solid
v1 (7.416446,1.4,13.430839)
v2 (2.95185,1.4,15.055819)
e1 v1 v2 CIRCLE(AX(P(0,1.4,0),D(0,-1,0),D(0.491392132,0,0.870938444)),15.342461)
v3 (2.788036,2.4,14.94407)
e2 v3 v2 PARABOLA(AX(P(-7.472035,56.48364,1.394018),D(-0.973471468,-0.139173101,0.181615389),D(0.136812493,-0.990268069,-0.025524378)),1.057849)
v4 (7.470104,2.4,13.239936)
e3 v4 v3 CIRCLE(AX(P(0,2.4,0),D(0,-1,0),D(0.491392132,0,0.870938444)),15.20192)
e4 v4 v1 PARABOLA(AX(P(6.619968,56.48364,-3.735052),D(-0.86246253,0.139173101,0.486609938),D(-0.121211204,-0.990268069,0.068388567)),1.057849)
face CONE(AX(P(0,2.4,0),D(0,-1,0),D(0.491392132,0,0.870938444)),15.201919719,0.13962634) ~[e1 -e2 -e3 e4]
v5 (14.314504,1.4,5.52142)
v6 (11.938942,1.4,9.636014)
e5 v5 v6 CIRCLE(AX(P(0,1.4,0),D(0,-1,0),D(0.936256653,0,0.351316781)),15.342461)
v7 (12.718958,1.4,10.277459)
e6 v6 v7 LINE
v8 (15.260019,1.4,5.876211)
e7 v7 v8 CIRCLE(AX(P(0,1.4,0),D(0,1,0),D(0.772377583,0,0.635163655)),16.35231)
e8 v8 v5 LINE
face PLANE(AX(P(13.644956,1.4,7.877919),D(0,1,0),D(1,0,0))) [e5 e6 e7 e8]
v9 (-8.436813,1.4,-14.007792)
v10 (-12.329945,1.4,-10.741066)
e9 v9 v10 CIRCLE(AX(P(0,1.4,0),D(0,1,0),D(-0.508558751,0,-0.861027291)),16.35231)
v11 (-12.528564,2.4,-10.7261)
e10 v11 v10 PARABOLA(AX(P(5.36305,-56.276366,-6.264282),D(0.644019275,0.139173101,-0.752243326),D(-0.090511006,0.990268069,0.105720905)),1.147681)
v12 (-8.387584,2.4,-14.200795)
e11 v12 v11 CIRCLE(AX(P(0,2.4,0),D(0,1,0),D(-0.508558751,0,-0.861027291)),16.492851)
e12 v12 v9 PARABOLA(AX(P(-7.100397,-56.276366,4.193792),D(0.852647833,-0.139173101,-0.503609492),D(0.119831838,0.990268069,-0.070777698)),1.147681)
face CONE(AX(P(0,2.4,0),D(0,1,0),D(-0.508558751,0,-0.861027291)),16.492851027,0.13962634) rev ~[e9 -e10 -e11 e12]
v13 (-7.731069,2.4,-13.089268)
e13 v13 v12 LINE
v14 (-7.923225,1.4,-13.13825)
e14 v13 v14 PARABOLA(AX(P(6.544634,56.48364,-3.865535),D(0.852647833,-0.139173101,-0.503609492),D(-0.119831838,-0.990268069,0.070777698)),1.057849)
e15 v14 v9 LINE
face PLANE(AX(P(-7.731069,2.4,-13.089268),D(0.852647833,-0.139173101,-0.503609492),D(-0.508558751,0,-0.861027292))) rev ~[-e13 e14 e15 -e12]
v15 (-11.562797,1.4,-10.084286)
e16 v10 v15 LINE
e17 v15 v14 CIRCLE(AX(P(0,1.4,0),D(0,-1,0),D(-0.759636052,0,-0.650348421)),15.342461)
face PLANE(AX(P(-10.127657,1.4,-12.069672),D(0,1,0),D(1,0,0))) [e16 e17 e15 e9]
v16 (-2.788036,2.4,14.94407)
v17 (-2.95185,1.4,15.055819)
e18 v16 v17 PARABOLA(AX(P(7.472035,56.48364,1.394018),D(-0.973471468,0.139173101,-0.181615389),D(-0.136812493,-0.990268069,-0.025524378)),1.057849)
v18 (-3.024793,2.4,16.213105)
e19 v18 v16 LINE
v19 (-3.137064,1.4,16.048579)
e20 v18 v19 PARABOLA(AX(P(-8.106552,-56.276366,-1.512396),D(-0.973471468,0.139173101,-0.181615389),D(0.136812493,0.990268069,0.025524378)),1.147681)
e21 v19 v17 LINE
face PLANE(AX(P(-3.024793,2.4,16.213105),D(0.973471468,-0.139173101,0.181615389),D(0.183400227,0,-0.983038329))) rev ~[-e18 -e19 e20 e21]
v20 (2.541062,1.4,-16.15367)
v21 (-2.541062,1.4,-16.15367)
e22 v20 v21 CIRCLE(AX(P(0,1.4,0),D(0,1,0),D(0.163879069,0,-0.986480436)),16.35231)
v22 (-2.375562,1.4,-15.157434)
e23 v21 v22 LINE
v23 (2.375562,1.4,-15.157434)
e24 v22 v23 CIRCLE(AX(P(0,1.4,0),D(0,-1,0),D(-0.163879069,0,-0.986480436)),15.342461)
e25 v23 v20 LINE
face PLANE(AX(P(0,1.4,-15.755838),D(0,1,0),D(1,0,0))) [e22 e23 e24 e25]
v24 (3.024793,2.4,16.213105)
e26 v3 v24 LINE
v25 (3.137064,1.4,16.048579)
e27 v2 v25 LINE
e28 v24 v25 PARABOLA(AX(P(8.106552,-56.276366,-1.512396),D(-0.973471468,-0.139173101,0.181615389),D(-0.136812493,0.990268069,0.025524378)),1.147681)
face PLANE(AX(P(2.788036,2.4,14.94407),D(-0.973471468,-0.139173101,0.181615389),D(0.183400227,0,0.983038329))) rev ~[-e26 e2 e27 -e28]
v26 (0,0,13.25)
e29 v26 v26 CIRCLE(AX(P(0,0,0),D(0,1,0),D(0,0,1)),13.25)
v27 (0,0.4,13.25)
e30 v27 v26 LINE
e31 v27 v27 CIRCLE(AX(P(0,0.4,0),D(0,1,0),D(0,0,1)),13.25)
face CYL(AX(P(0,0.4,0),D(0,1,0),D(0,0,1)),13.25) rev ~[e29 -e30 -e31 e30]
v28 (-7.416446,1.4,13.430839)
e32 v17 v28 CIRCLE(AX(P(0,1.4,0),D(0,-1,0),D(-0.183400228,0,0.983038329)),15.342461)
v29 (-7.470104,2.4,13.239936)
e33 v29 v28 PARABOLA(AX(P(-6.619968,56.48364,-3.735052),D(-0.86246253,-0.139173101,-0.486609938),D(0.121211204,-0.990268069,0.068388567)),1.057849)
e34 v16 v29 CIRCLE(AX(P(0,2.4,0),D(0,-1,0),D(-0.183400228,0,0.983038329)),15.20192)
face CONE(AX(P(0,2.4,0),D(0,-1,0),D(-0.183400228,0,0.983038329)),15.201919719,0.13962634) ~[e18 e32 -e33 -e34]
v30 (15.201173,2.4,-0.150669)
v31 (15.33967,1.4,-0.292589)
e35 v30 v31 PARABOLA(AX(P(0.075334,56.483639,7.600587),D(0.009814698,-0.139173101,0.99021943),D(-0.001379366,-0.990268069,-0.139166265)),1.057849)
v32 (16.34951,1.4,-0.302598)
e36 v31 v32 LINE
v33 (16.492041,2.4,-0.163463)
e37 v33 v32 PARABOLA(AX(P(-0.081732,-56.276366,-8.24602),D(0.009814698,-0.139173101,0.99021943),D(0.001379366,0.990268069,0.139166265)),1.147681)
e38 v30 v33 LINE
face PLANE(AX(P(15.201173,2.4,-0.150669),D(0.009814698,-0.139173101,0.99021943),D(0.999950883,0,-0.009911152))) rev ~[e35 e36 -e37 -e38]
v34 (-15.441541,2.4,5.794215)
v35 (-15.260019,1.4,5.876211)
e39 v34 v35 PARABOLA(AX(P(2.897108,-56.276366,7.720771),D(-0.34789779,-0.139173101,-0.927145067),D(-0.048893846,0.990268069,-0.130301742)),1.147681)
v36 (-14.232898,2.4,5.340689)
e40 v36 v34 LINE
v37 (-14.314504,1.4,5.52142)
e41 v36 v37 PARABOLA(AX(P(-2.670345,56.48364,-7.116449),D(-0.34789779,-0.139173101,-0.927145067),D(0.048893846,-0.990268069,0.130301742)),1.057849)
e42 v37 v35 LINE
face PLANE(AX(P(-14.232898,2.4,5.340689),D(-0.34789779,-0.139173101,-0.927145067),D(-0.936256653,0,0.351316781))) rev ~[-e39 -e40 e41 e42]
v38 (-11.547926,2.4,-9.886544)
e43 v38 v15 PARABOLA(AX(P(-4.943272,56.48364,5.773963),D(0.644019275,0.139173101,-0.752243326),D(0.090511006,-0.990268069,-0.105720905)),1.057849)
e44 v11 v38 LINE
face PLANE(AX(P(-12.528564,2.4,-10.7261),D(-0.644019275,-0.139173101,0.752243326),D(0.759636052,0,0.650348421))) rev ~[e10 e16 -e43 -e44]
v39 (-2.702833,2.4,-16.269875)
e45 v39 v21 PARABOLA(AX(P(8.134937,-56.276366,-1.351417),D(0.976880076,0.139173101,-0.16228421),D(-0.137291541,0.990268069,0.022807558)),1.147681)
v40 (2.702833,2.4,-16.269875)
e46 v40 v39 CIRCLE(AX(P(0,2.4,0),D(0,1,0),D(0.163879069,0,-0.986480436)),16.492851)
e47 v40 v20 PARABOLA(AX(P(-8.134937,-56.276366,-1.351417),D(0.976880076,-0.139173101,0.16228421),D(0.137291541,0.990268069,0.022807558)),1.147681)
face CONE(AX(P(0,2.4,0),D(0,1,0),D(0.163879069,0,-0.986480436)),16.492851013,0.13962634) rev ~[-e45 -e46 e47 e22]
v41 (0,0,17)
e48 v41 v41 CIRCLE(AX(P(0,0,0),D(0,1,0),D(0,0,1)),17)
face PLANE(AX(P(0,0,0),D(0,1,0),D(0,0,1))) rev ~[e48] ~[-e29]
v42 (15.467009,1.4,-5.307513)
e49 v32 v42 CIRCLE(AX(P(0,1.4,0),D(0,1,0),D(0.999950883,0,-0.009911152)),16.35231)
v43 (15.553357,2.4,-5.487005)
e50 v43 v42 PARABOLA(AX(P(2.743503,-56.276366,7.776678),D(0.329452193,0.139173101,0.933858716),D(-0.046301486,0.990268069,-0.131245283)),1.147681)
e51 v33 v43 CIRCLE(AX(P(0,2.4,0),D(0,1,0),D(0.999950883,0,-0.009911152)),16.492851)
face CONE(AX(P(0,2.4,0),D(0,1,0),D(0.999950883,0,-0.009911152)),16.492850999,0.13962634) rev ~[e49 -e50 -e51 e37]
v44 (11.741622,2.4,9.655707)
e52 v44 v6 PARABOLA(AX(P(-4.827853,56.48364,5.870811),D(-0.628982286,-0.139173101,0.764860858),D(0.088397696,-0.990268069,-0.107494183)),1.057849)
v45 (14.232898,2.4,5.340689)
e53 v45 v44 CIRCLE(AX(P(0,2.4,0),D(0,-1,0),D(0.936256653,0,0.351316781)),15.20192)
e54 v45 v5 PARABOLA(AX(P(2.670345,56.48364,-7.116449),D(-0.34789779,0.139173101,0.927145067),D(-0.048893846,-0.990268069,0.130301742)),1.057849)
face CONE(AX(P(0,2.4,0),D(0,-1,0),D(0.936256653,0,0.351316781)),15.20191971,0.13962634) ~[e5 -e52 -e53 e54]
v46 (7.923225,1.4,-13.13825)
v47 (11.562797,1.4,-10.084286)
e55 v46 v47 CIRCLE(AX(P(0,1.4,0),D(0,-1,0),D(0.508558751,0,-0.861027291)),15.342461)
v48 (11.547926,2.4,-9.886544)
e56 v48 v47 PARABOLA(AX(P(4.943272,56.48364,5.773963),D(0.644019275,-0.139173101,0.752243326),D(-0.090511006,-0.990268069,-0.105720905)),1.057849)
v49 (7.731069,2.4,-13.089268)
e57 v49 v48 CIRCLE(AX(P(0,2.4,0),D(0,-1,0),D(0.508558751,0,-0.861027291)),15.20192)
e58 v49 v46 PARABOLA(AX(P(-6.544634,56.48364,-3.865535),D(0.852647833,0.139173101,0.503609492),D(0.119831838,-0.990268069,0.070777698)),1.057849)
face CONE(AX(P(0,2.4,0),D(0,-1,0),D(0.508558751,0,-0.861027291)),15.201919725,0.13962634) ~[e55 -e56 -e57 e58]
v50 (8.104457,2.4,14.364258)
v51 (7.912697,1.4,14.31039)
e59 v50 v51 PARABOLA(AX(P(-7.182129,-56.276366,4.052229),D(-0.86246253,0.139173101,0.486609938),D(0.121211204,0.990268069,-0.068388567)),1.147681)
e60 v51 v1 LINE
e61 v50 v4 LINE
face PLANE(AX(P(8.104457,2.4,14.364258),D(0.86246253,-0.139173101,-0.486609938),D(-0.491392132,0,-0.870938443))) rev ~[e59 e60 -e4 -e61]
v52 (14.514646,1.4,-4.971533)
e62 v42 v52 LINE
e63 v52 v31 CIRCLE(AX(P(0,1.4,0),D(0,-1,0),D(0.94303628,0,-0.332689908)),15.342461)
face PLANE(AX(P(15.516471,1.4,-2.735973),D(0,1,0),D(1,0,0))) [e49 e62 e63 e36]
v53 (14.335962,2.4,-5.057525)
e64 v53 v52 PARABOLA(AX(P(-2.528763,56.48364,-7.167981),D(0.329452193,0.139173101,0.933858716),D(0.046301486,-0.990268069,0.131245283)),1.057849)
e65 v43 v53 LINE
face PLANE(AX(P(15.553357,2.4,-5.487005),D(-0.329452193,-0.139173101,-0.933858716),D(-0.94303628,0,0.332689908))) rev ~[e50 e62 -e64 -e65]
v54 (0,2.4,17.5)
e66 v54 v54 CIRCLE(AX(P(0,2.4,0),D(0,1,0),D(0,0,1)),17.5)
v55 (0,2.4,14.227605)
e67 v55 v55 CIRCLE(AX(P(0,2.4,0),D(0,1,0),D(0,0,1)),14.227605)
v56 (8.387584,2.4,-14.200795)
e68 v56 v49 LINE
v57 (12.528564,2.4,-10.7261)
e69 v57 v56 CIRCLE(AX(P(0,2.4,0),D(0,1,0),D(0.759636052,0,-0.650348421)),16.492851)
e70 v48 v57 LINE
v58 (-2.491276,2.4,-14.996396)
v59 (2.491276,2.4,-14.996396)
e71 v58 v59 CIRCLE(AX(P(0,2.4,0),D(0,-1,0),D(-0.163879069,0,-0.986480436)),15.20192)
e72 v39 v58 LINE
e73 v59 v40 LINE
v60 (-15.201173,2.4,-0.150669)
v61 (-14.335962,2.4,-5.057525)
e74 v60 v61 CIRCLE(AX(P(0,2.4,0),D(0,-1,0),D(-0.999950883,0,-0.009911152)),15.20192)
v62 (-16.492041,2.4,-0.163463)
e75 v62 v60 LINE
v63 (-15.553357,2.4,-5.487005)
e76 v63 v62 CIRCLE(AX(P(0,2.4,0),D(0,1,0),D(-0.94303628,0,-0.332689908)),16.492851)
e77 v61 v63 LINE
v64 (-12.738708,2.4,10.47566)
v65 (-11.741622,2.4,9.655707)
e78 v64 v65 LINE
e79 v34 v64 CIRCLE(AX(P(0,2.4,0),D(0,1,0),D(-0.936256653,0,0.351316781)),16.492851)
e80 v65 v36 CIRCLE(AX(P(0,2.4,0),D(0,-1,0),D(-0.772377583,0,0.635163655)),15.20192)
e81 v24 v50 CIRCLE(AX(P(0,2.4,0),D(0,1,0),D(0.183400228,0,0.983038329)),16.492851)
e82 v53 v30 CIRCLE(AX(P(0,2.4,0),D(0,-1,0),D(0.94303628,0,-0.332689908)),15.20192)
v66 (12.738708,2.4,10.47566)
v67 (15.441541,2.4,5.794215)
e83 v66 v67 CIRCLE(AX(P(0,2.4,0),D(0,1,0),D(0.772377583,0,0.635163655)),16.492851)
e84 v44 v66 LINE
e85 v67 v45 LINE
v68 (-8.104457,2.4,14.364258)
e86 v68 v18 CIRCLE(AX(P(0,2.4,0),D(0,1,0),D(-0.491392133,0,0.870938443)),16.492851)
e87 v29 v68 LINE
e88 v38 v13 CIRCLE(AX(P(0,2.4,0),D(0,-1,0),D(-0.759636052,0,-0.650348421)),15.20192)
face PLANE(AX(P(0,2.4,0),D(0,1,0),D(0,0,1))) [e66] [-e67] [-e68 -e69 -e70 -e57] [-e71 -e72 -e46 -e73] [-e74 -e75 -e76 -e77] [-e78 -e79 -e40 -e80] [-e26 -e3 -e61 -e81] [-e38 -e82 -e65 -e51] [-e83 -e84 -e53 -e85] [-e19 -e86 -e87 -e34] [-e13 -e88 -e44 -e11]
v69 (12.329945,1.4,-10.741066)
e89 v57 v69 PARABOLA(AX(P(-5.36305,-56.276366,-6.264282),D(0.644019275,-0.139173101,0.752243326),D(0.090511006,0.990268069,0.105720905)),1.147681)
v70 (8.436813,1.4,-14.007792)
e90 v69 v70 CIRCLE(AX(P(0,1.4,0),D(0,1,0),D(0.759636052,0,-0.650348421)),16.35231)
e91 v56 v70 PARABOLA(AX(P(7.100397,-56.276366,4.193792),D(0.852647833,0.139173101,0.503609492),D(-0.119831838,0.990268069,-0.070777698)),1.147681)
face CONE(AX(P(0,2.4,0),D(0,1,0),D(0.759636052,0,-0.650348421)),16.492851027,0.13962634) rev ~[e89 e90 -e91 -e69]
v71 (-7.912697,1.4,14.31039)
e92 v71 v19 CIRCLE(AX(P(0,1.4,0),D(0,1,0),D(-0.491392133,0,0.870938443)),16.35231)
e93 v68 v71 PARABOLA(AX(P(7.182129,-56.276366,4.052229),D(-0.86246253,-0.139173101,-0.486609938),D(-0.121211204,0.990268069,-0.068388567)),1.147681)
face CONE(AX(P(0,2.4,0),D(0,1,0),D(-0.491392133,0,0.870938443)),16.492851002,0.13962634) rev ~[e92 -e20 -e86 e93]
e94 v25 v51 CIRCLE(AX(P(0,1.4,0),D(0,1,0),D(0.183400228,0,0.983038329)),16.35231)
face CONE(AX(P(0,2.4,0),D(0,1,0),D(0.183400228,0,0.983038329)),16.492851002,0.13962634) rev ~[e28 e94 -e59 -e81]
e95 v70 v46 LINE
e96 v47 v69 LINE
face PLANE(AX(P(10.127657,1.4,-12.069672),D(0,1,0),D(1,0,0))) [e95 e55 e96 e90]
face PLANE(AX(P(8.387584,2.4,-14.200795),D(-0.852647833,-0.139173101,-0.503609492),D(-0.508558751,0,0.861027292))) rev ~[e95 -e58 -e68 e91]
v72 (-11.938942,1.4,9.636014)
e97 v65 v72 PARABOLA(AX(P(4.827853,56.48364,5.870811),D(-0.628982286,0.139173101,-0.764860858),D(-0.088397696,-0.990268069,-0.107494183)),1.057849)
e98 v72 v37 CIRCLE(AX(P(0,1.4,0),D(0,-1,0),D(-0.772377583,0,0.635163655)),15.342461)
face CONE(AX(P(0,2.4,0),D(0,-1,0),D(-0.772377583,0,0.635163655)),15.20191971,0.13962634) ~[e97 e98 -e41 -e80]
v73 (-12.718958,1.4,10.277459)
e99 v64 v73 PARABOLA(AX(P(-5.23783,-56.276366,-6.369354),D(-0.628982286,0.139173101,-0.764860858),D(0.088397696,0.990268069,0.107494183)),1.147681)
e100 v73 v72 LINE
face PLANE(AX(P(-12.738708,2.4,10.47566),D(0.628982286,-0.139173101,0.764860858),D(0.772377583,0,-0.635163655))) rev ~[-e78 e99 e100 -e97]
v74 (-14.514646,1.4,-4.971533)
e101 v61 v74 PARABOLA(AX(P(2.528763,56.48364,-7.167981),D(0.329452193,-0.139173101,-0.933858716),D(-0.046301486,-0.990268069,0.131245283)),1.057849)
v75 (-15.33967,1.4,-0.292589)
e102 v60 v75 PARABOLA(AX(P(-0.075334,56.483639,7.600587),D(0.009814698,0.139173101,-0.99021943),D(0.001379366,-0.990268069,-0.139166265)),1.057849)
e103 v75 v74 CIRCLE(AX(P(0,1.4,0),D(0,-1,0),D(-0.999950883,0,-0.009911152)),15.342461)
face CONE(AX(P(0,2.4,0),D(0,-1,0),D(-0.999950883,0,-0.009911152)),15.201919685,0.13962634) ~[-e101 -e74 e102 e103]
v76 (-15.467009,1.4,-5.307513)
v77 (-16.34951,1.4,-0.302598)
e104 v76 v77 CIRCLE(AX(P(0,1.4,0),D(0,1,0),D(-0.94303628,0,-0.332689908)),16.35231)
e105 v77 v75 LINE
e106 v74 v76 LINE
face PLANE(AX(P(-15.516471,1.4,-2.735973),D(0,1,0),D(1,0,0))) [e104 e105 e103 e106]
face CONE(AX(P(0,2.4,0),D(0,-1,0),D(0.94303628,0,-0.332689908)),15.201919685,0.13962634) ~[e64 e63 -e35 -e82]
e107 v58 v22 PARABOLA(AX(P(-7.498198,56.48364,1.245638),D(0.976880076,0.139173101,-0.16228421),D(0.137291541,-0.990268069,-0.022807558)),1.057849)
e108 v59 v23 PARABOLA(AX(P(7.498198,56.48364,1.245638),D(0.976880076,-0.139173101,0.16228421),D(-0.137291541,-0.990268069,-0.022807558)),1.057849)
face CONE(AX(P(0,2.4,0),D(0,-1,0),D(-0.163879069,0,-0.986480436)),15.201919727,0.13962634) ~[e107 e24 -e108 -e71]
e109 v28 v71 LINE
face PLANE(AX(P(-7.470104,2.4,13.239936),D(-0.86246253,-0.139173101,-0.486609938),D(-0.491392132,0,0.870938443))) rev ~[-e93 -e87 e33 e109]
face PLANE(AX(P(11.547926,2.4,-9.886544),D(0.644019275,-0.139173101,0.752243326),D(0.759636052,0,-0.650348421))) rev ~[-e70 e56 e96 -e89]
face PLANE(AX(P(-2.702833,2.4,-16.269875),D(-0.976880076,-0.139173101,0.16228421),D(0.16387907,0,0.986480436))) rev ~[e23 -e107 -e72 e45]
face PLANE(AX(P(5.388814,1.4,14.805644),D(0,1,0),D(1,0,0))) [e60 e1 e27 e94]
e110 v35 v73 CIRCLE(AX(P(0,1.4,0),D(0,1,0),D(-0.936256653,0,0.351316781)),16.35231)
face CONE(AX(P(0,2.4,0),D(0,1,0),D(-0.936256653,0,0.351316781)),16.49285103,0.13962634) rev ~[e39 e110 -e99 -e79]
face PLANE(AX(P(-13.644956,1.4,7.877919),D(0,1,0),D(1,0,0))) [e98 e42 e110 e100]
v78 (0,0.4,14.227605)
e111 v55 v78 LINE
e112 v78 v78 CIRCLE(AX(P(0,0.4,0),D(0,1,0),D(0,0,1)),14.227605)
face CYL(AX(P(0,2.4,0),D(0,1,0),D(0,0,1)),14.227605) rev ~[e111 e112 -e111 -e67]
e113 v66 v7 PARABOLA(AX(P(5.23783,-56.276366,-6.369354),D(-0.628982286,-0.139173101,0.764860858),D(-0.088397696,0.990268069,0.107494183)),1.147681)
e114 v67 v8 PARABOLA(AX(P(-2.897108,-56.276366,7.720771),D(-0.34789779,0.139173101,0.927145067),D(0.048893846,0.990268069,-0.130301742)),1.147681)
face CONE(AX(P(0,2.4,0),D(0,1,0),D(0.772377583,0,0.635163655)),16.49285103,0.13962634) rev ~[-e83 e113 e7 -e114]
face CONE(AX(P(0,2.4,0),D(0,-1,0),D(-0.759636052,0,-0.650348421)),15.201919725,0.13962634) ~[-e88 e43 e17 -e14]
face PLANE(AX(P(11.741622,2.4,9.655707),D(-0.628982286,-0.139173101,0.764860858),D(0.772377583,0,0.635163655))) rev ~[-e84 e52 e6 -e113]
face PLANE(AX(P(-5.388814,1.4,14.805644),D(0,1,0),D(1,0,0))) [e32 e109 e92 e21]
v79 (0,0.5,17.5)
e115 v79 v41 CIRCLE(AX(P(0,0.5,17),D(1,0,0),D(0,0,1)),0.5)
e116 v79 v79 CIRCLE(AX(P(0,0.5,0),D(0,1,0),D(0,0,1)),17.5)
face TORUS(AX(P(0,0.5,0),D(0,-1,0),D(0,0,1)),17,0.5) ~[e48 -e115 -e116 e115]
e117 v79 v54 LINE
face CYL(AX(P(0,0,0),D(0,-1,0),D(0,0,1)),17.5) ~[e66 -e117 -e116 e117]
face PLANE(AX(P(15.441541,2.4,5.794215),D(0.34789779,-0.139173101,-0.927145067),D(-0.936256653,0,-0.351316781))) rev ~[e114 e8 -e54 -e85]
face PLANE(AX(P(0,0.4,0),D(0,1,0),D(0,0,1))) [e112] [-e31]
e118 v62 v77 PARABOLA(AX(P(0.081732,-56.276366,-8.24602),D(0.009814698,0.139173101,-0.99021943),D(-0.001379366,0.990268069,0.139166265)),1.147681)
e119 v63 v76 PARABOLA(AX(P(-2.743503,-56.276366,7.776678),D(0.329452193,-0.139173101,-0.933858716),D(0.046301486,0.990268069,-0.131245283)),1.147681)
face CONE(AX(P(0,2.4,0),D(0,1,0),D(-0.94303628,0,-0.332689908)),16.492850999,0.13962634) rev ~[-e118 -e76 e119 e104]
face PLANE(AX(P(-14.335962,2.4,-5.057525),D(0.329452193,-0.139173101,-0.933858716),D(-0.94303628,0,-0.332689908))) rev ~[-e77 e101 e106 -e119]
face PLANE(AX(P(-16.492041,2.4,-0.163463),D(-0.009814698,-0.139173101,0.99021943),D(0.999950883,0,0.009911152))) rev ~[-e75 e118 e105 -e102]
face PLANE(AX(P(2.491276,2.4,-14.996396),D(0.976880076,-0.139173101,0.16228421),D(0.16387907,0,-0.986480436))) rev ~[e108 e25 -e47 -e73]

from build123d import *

# Parameters (mm, degrees)
SKETCH_1_R                    = 17.5
SKETCH_1_R_2                  = 13
EXTRUDE_1_DEPTH               = 2.4
SKETCH_2_R                    = 14.227604949
CUT_EXTRUDE_1_DEPTH           = 2
SKETCH_3_R                    = 13.25
CUT_EXTRUDE_2_DEPTH           = 2
CUT_EXTRUDE_3_DEPTH           = 1
CUT_EXTRUDE_3_DRAFT           = -8
CUT_EXTRUDE_3_PROFILE_2_DEPTH = 1
CUT_EXTRUDE_3_PROFILE_2_DRAFT = -8
CUT_EXTRUDE_3_PROFILE_3_DEPTH = 1
CUT_EXTRUDE_3_PROFILE_3_DRAFT = -8
CUT_EXTRUDE_3_PROFILE_4_DEPTH = 1
CUT_EXTRUDE_3_PROFILE_4_DRAFT = -8
CUT_EXTRUDE_3_PROFILE_5_DEPTH = 1
CUT_EXTRUDE_3_PROFILE_5_DRAFT = -8
CUT_EXTRUDE_3_PROFILE_6_DEPTH = 1
CUT_EXTRUDE_3_PROFILE_6_DRAFT = -8
CUT_EXTRUDE_3_PROFILE_7_DEPTH = 1
CUT_EXTRUDE_3_PROFILE_7_DRAFT = -8
CUT_EXTRUDE_3_PROFILE_8_DEPTH = 1
CUT_EXTRUDE_3_PROFILE_8_DRAFT = -8
CUT_EXTRUDE_3_PROFILE_9_DEPTH = 1
CUT_EXTRUDE_3_PROFILE_9_DRAFT = -8
FILLET_1_R                    = 0.5


with BuildPart() as part:
    # 草图1 → 凸台-拉伸1 (new body)
    with BuildSketch(Plane(origin=(0, 0, 0), x_dir=(1, 0, 0), z_dir=(0, 1, 0))):
        with Locations(Location((0, 0, 0), (0, 0, 270))):
            Circle(SKETCH_1_R)
        with Locations(Location((0, 0, 0), (0, 0, 270))):
            Circle(SKETCH_1_R_2, mode=Mode.SUBTRACT)
    extrude(amount=EXTRUDE_1_DEPTH)

    # 草图2 → 切除-拉伸1 (cut)
    with BuildSketch(Plane(origin=(0, 2.4, 0), x_dir=(1, 0, 0), z_dir=(0, 1, 0))):
        with Locations(Location((0, 0, 0), (0, 0, 270))):
            Circle(SKETCH_2_R)
    extrude(amount=-CUT_EXTRUDE_1_DEPTH, mode=Mode.SUBTRACT)

    # 草图3 → 切除-拉伸2 (cut)
    with BuildSketch(Plane(origin=(0, 0.4, 0), x_dir=(1, 0, 0), z_dir=(0, 1, 0))):
        with Locations(Location((0, 0, 0), (0, 0, 270))):
            Circle(SKETCH_3_R)
    extrude(amount=-CUT_EXTRUDE_2_DEPTH, mode=Mode.SUBTRACT)


with BuildPart() as cut_extrude_3_tool:
    # 草图4 → 切除-拉伸3 (with draft: the straight prism first)
    with BuildSketch(Plane(origin=(0, 2.4, 0), x_dir=(1, 0, 0), z_dir=(0, 1, 0))):
        with BuildLine():
            ThreePointArc((-2.491276454, 14.996396377), (0, 15.201919703), (2.491276454, 14.996396377))
            Line((2.491276454, 14.996396377), (2.702833077, 16.269874865))
            ThreePointArc((2.702833077, 16.269874865), (0, 16.49285102), (-2.702833077, 16.269874865))
            Line((-2.702833077, 16.269874865), (-2.491276454, 14.996396377))
        make_face()
    extrude(amount=-CUT_EXTRUDE_3_DEPTH)
    # 切除-拉伸3: the draft: its side faces are tilted about the plane it starts from
    cut_extrude_3_sides = [cut_extrude_3_tool.faces().sort_by_distance(p)[0] for p in [
        (0, 1.9, -16.49285102),
        (-2.597054766, 1.9, -15.633135621),
        (0, 1.9, -15.201919703),
        (2.597054766, 1.9, -15.633135621),
    ]]
    draft(cut_extrude_3_sides, Plane(origin=(0, 2.4, 0), x_dir=(1, 0, 0), z_dir=(0, 1, 0)), CUT_EXTRUDE_3_DRAFT)


with BuildPart() as part_1:
    add(part.part)

    # 切除-拉伸3: cut by cut_extrude_3_tool
    add(cut_extrude_3_tool.part, mode=Mode.SUBTRACT)


with BuildPart() as cut_extrude_3_profile_2_tool:
    # 草图4 → 切除-拉伸3 profile 2 (with draft: the straight prism first)
    with BuildSketch(Plane(origin=(0, 2.4, 0), x_dir=(1, 0, 0), z_dir=(0, 1, 0))):
        with BuildLine():
            ThreePointArc((7.731069297, 13.089267749), (9.771605629, 11.645346113), (11.547926265, 9.886544474))
            Line((11.547926265, 9.886544474), (12.528564234, 10.726099617))
            ThreePointArc((12.528564234, 10.726099617), (10.601400284, 12.634256875), (8.387583715, 14.200794844))
            Line((8.387583715, 14.200794844), (7.731069297, 13.089267749))
        make_face()
    extrude(amount=-CUT_EXTRUDE_3_PROFILE_2_DEPTH)
    # 切除-拉伸3 profile 2: the draft: its side faces are tilted about the plane it starts from
    cut_extrude_3_profile_2_sides = [cut_extrude_3_profile_2_tool.faces().sort_by_distance(p)[0] for p in [
        (8.059326506, 1.9, -13.645031296),
        (9.771605629, 1.9, -11.645346113),
        (12.03824525, 1.9, -10.306322046),
        (10.601400284, 1.9, -12.634256875),
    ]]
    draft(cut_extrude_3_profile_2_sides, Plane(origin=(0, 2.4, 0), x_dir=(1, 0, 0), z_dir=(0, 1, 0)), CUT_EXTRUDE_3_PROFILE_2_DRAFT)


with BuildPart() as part_2:
    add(part_1.part)

    # 切除-拉伸3 profile 2: cut by cut_extrude_3_profile_2_tool
    add(cut_extrude_3_profile_2_tool.part, mode=Mode.SUBTRACT)


with BuildPart() as cut_extrude_3_profile_3_tool:
    # 草图4 → 切除-拉伸3 profile 3 (with draft: the straight prism first)
    with BuildSketch(Plane(origin=(0, 2.4, 0), x_dir=(1, 0, 0), z_dir=(0, 1, 0))):
        with BuildLine():
            ThreePointArc((14.335961803, 5.05752527), (14.970968385, 2.639785654), (15.201173036, 0.150668535))
            Line((15.201173036, 0.150668535), (16.492040946, 0.163463152))
            ThreePointArc((16.492040946, 0.163463152), (16.242287554, 2.863953524), (15.553356869, 5.487005091))
            Line((15.553356869, 5.487005091), (14.335961803, 5.05752527))
        make_face()
    extrude(amount=-CUT_EXTRUDE_3_PROFILE_3_DEPTH)
    # 切除-拉伸3 profile 3: the draft: its side faces are tilted about the plane it starts from
    cut_extrude_3_profile_3_sides = [cut_extrude_3_profile_3_tool.faces().sort_by_distance(p)[0] for p in [
        (14.970968385, 1.9, -2.639785654),
        (15.846606991, 1.9, -0.157065843),
        (16.242287554, 1.9, -2.863953524),
        (14.944659336, 1.9, -5.27226518),
    ]]
    draft(cut_extrude_3_profile_3_sides, Plane(origin=(0, 2.4, 0), x_dir=(1, 0, 0), z_dir=(0, 1, 0)), CUT_EXTRUDE_3_PROFILE_3_DRAFT)


with BuildPart() as part_3:
    add(part_2.part)

    # 切除-拉伸3 profile 3: cut by cut_extrude_3_profile_3_tool
    add(cut_extrude_3_profile_3_tool.part, mode=Mode.SUBTRACT)


with BuildPart() as cut_extrude_3_profile_4_tool:
    # 草图4 → 切除-拉伸3 profile 4 (with draft: the straight prism first)
    with BuildSketch(Plane(origin=(0, 2.4, 0), x_dir=(1, 0, 0), z_dir=(0, 1, 0))):
        with BuildLine():
            ThreePointArc((14.232898455, -5.340689491), (13.165248649, -7.600959852), (11.741622, -9.655706886))
            Line((11.741622, -9.655706886), (12.738708411, -10.47565954))
            ThreePointArc((12.738708411, -10.47565954), (14.283227964, -8.24642551), (15.441541488, -5.794215325))
            Line((15.441541488, -5.794215325), (14.232898455, -5.340689491))
        make_face()
    extrude(amount=-CUT_EXTRUDE_3_PROFILE_4_DEPTH)
    # 切除-拉伸3 profile 4: the draft: its side faces are tilted about the plane it starts from
    cut_extrude_3_profile_4_sides = [cut_extrude_3_profile_4_tool.faces().sort_by_distance(p)[0] for p in [
        (12.240165206, 1.9, 10.065683213),
        (14.283227964, 1.9, 8.24642551),
        (14.837219972, 1.9, 5.567452408),
        (13.165248649, 1.9, 7.600959852),
    ]]
    draft(cut_extrude_3_profile_4_sides, Plane(origin=(0, 2.4, 0), x_dir=(1, 0, 0), z_dir=(0, 1, 0)), CUT_EXTRUDE_3_PROFILE_4_DRAFT)


with BuildPart() as part_4:
    add(part_3.part)

    # 切除-拉伸3 profile 4: cut by cut_extrude_3_profile_4_tool
    add(cut_extrude_3_profile_4_tool.part, mode=Mode.SUBTRACT)


with BuildPart() as cut_extrude_3_profile_5_tool:
    # 草图4 → 切除-拉伸3 profile 5 (with draft: the straight prism first)
    with BuildSketch(Plane(origin=(0, 2.4, 0), x_dir=(1, 0, 0), z_dir=(0, 1, 0))):
        with BuildLine():
            ThreePointArc((7.470103739, -13.239936284), (5.199362756, -14.285131767), (2.788035538, -14.944069744))
            Line((2.788035538, -14.944069744), (3.024792635, -16.213104708))
            ThreePointArc((3.024792635, -16.213104708), (5.64088727, -15.498210399), (8.104457231, -14.364257995))
            Line((8.104457231, -14.364257995), (7.470103739, -13.239936284))
        make_face()
    extrude(amount=-CUT_EXTRUDE_3_PROFILE_5_DEPTH)
    # 切除-拉伸3 profile 5: the draft: its side faces are tilted about the plane it starts from
    cut_extrude_3_profile_5_sides = [cut_extrude_3_profile_5_tool.faces().sort_by_distance(p)[0] for p in [
        (5.199362756, 1.9, 14.285131767),
        (2.906414086, 1.9, 15.578587226),
        (5.64088727, 1.9, 15.498210399),
        (7.787280485, 1.9, 13.80209714),
    ]]
    draft(cut_extrude_3_profile_5_sides, Plane(origin=(0, 2.4, 0), x_dir=(1, 0, 0), z_dir=(0, 1, 0)), CUT_EXTRUDE_3_PROFILE_5_DRAFT)


with BuildPart() as part_5:
    add(part_4.part)

    # 切除-拉伸3 profile 5: cut by cut_extrude_3_profile_5_tool
    add(cut_extrude_3_profile_5_tool.part, mode=Mode.SUBTRACT)


with BuildPart() as cut_extrude_3_profile_6_tool:
    # 草图4 → 切除-拉伸3 profile 6 (with draft: the straight prism first)
    with BuildSketch(Plane(origin=(0, 2.4, 0), x_dir=(1, 0, 0), z_dir=(0, 1, 0))):
        with BuildLine():
            ThreePointArc((-2.788035538, -14.944069744), (-5.199362756, -14.285131767), (-7.470103739, -13.239936284))
            Line((-7.470103739, -13.239936284), (-8.104457231, -14.364257995))
            ThreePointArc((-8.104457231, -14.364257995), (-5.64088727, -15.498210399), (-3.024792635, -16.213104708))
            Line((-3.024792635, -16.213104708), (-2.788035538, -14.944069744))
        make_face()
    extrude(amount=-CUT_EXTRUDE_3_PROFILE_6_DEPTH)
    # 切除-拉伸3 profile 6: the draft: its side faces are tilted about the plane it starts from
    cut_extrude_3_profile_6_sides = [cut_extrude_3_profile_6_tool.faces().sort_by_distance(p)[0] for p in [
        (-5.64088727, 1.9, 15.498210399),
        (-2.906414086, 1.9, 15.578587226),
        (-5.199362756, 1.9, 14.285131767),
        (-7.787280485, 1.9, 13.80209714),
    ]]
    draft(cut_extrude_3_profile_6_sides, Plane(origin=(0, 2.4, 0), x_dir=(1, 0, 0), z_dir=(0, 1, 0)), CUT_EXTRUDE_3_PROFILE_6_DRAFT)


with BuildPart() as part_6:
    add(part_5.part)

    # 切除-拉伸3 profile 6: cut by cut_extrude_3_profile_6_tool
    add(cut_extrude_3_profile_6_tool.part, mode=Mode.SUBTRACT)


with BuildPart() as cut_extrude_3_profile_7_tool:
    # 草图4 → 切除-拉伸3 profile 7 (with draft: the straight prism first)
    with BuildSketch(Plane(origin=(0, 2.4, 0), x_dir=(1, 0, 0), z_dir=(0, 1, 0))):
        with BuildLine():
            ThreePointArc((-11.741622, -9.655706886), (-13.165248649, -7.600959852), (-14.232898455, -5.340689491))
            Line((-14.232898455, -5.340689491), (-15.441541488, -5.794215325))
            ThreePointArc((-15.441541488, -5.794215325), (-14.283227964, -8.24642551), (-12.738708411, -10.47565954))
            Line((-12.738708411, -10.47565954), (-11.741622, -9.655706886))
        make_face()
    extrude(amount=-CUT_EXTRUDE_3_PROFILE_7_DEPTH)
    # 切除-拉伸3 profile 7: the draft: its side faces are tilted about the plane it starts from
    cut_extrude_3_profile_7_sides = [cut_extrude_3_profile_7_tool.faces().sort_by_distance(p)[0] for p in [
        (-12.240165206, 1.9, 10.065683213),
        (-13.165248649, 1.9, 7.600959852),
        (-14.837219972, 1.9, 5.567452408),
        (-14.283227964, 1.9, 8.24642551),
    ]]
    draft(cut_extrude_3_profile_7_sides, Plane(origin=(0, 2.4, 0), x_dir=(1, 0, 0), z_dir=(0, 1, 0)), CUT_EXTRUDE_3_PROFILE_7_DRAFT)


with BuildPart() as part_7:
    add(part_6.part)

    # 切除-拉伸3 profile 7: cut by cut_extrude_3_profile_7_tool
    add(cut_extrude_3_profile_7_tool.part, mode=Mode.SUBTRACT)


with BuildPart() as cut_extrude_3_profile_8_tool:
    # 草图4 → 切除-拉伸3 profile 8 (with draft: the straight prism first)
    with BuildSketch(Plane(origin=(0, 2.4, 0), x_dir=(1, 0, 0), z_dir=(0, 1, 0))):
        with BuildLine():
            ThreePointArc((-15.201173036, 0.150668535), (-14.970968385, 2.639785654), (-14.335961803, 5.05752527))
            Line((-14.335961803, 5.05752527), (-15.553356869, 5.487005091))
            ThreePointArc((-15.553356869, 5.487005091), (-16.242287554, 2.863953524), (-16.492040946, 0.163463152))
            Line((-16.492040946, 0.163463152), (-15.201173036, 0.150668535))
        make_face()
    extrude(amount=-CUT_EXTRUDE_3_PROFILE_8_DEPTH)
    # 切除-拉伸3 profile 8: the draft: its side faces are tilted about the plane it starts from
    cut_extrude_3_profile_8_sides = [cut_extrude_3_profile_8_tool.faces().sort_by_distance(p)[0] for p in [
        (-14.944659336, 1.9, -5.27226518),
        (-16.242287554, 1.9, -2.863953524),
        (-15.846606991, 1.9, -0.157065843),
        (-14.970968385, 1.9, -2.639785654),
    ]]
    draft(cut_extrude_3_profile_8_sides, Plane(origin=(0, 2.4, 0), x_dir=(1, 0, 0), z_dir=(0, 1, 0)), CUT_EXTRUDE_3_PROFILE_8_DRAFT)


with BuildPart() as part_8:
    add(part_7.part)

    # 切除-拉伸3 profile 8: cut by cut_extrude_3_profile_8_tool
    add(cut_extrude_3_profile_8_tool.part, mode=Mode.SUBTRACT)


with BuildPart() as cut_extrude_3_profile_9_tool:
    # 草图4 → 切除-拉伸3 profile 9 (with draft: the straight prism first)
    with BuildSketch(Plane(origin=(0, 2.4, 0), x_dir=(1, 0, 0), z_dir=(0, 1, 0))):
        with BuildLine():
            ThreePointArc((-11.547926265, 9.886544474), (-9.771605629, 11.645346113), (-7.731069297, 13.089267749))
            Line((-7.731069297, 13.089267749), (-8.387583715, 14.200794844))
            ThreePointArc((-8.387583715, 14.200794844), (-10.601400284, 12.634256875), (-12.528564234, 10.726099617))
            Line((-12.528564234, 10.726099617), (-11.547926265, 9.886544474))
        make_face()
    extrude(amount=-CUT_EXTRUDE_3_PROFILE_9_DEPTH)
    # 切除-拉伸3 profile 9: the draft: its side faces are tilted about the plane it starts from
    cut_extrude_3_profile_9_sides = [cut_extrude_3_profile_9_tool.faces().sort_by_distance(p)[0] for p in [
        (-10.601400284, 1.9, -12.634256875),
        (-12.03824525, 1.9, -10.306322046),
        (-9.771605629, 1.9, -11.645346113),
        (-8.059326506, 1.9, -13.645031296),
    ]]
    draft(cut_extrude_3_profile_9_sides, Plane(origin=(0, 2.4, 0), x_dir=(1, 0, 0), z_dir=(0, 1, 0)), CUT_EXTRUDE_3_PROFILE_9_DRAFT)


with BuildPart() as part_9:
    add(part_8.part)

    # 切除-拉伸3 profile 9: cut by cut_extrude_3_profile_9_tool
    add(cut_extrude_3_profile_9_tool.part, mode=Mode.SUBTRACT)

    # 圆角1
    fillet_1_edges = [part_9.edges().sort_by_distance(p)[0] for p in [
        (0, 0, -17.5),
    ]]
    fillet(fillet_1_edges, radius=FILLET_1_R)


solid = part_9.part
